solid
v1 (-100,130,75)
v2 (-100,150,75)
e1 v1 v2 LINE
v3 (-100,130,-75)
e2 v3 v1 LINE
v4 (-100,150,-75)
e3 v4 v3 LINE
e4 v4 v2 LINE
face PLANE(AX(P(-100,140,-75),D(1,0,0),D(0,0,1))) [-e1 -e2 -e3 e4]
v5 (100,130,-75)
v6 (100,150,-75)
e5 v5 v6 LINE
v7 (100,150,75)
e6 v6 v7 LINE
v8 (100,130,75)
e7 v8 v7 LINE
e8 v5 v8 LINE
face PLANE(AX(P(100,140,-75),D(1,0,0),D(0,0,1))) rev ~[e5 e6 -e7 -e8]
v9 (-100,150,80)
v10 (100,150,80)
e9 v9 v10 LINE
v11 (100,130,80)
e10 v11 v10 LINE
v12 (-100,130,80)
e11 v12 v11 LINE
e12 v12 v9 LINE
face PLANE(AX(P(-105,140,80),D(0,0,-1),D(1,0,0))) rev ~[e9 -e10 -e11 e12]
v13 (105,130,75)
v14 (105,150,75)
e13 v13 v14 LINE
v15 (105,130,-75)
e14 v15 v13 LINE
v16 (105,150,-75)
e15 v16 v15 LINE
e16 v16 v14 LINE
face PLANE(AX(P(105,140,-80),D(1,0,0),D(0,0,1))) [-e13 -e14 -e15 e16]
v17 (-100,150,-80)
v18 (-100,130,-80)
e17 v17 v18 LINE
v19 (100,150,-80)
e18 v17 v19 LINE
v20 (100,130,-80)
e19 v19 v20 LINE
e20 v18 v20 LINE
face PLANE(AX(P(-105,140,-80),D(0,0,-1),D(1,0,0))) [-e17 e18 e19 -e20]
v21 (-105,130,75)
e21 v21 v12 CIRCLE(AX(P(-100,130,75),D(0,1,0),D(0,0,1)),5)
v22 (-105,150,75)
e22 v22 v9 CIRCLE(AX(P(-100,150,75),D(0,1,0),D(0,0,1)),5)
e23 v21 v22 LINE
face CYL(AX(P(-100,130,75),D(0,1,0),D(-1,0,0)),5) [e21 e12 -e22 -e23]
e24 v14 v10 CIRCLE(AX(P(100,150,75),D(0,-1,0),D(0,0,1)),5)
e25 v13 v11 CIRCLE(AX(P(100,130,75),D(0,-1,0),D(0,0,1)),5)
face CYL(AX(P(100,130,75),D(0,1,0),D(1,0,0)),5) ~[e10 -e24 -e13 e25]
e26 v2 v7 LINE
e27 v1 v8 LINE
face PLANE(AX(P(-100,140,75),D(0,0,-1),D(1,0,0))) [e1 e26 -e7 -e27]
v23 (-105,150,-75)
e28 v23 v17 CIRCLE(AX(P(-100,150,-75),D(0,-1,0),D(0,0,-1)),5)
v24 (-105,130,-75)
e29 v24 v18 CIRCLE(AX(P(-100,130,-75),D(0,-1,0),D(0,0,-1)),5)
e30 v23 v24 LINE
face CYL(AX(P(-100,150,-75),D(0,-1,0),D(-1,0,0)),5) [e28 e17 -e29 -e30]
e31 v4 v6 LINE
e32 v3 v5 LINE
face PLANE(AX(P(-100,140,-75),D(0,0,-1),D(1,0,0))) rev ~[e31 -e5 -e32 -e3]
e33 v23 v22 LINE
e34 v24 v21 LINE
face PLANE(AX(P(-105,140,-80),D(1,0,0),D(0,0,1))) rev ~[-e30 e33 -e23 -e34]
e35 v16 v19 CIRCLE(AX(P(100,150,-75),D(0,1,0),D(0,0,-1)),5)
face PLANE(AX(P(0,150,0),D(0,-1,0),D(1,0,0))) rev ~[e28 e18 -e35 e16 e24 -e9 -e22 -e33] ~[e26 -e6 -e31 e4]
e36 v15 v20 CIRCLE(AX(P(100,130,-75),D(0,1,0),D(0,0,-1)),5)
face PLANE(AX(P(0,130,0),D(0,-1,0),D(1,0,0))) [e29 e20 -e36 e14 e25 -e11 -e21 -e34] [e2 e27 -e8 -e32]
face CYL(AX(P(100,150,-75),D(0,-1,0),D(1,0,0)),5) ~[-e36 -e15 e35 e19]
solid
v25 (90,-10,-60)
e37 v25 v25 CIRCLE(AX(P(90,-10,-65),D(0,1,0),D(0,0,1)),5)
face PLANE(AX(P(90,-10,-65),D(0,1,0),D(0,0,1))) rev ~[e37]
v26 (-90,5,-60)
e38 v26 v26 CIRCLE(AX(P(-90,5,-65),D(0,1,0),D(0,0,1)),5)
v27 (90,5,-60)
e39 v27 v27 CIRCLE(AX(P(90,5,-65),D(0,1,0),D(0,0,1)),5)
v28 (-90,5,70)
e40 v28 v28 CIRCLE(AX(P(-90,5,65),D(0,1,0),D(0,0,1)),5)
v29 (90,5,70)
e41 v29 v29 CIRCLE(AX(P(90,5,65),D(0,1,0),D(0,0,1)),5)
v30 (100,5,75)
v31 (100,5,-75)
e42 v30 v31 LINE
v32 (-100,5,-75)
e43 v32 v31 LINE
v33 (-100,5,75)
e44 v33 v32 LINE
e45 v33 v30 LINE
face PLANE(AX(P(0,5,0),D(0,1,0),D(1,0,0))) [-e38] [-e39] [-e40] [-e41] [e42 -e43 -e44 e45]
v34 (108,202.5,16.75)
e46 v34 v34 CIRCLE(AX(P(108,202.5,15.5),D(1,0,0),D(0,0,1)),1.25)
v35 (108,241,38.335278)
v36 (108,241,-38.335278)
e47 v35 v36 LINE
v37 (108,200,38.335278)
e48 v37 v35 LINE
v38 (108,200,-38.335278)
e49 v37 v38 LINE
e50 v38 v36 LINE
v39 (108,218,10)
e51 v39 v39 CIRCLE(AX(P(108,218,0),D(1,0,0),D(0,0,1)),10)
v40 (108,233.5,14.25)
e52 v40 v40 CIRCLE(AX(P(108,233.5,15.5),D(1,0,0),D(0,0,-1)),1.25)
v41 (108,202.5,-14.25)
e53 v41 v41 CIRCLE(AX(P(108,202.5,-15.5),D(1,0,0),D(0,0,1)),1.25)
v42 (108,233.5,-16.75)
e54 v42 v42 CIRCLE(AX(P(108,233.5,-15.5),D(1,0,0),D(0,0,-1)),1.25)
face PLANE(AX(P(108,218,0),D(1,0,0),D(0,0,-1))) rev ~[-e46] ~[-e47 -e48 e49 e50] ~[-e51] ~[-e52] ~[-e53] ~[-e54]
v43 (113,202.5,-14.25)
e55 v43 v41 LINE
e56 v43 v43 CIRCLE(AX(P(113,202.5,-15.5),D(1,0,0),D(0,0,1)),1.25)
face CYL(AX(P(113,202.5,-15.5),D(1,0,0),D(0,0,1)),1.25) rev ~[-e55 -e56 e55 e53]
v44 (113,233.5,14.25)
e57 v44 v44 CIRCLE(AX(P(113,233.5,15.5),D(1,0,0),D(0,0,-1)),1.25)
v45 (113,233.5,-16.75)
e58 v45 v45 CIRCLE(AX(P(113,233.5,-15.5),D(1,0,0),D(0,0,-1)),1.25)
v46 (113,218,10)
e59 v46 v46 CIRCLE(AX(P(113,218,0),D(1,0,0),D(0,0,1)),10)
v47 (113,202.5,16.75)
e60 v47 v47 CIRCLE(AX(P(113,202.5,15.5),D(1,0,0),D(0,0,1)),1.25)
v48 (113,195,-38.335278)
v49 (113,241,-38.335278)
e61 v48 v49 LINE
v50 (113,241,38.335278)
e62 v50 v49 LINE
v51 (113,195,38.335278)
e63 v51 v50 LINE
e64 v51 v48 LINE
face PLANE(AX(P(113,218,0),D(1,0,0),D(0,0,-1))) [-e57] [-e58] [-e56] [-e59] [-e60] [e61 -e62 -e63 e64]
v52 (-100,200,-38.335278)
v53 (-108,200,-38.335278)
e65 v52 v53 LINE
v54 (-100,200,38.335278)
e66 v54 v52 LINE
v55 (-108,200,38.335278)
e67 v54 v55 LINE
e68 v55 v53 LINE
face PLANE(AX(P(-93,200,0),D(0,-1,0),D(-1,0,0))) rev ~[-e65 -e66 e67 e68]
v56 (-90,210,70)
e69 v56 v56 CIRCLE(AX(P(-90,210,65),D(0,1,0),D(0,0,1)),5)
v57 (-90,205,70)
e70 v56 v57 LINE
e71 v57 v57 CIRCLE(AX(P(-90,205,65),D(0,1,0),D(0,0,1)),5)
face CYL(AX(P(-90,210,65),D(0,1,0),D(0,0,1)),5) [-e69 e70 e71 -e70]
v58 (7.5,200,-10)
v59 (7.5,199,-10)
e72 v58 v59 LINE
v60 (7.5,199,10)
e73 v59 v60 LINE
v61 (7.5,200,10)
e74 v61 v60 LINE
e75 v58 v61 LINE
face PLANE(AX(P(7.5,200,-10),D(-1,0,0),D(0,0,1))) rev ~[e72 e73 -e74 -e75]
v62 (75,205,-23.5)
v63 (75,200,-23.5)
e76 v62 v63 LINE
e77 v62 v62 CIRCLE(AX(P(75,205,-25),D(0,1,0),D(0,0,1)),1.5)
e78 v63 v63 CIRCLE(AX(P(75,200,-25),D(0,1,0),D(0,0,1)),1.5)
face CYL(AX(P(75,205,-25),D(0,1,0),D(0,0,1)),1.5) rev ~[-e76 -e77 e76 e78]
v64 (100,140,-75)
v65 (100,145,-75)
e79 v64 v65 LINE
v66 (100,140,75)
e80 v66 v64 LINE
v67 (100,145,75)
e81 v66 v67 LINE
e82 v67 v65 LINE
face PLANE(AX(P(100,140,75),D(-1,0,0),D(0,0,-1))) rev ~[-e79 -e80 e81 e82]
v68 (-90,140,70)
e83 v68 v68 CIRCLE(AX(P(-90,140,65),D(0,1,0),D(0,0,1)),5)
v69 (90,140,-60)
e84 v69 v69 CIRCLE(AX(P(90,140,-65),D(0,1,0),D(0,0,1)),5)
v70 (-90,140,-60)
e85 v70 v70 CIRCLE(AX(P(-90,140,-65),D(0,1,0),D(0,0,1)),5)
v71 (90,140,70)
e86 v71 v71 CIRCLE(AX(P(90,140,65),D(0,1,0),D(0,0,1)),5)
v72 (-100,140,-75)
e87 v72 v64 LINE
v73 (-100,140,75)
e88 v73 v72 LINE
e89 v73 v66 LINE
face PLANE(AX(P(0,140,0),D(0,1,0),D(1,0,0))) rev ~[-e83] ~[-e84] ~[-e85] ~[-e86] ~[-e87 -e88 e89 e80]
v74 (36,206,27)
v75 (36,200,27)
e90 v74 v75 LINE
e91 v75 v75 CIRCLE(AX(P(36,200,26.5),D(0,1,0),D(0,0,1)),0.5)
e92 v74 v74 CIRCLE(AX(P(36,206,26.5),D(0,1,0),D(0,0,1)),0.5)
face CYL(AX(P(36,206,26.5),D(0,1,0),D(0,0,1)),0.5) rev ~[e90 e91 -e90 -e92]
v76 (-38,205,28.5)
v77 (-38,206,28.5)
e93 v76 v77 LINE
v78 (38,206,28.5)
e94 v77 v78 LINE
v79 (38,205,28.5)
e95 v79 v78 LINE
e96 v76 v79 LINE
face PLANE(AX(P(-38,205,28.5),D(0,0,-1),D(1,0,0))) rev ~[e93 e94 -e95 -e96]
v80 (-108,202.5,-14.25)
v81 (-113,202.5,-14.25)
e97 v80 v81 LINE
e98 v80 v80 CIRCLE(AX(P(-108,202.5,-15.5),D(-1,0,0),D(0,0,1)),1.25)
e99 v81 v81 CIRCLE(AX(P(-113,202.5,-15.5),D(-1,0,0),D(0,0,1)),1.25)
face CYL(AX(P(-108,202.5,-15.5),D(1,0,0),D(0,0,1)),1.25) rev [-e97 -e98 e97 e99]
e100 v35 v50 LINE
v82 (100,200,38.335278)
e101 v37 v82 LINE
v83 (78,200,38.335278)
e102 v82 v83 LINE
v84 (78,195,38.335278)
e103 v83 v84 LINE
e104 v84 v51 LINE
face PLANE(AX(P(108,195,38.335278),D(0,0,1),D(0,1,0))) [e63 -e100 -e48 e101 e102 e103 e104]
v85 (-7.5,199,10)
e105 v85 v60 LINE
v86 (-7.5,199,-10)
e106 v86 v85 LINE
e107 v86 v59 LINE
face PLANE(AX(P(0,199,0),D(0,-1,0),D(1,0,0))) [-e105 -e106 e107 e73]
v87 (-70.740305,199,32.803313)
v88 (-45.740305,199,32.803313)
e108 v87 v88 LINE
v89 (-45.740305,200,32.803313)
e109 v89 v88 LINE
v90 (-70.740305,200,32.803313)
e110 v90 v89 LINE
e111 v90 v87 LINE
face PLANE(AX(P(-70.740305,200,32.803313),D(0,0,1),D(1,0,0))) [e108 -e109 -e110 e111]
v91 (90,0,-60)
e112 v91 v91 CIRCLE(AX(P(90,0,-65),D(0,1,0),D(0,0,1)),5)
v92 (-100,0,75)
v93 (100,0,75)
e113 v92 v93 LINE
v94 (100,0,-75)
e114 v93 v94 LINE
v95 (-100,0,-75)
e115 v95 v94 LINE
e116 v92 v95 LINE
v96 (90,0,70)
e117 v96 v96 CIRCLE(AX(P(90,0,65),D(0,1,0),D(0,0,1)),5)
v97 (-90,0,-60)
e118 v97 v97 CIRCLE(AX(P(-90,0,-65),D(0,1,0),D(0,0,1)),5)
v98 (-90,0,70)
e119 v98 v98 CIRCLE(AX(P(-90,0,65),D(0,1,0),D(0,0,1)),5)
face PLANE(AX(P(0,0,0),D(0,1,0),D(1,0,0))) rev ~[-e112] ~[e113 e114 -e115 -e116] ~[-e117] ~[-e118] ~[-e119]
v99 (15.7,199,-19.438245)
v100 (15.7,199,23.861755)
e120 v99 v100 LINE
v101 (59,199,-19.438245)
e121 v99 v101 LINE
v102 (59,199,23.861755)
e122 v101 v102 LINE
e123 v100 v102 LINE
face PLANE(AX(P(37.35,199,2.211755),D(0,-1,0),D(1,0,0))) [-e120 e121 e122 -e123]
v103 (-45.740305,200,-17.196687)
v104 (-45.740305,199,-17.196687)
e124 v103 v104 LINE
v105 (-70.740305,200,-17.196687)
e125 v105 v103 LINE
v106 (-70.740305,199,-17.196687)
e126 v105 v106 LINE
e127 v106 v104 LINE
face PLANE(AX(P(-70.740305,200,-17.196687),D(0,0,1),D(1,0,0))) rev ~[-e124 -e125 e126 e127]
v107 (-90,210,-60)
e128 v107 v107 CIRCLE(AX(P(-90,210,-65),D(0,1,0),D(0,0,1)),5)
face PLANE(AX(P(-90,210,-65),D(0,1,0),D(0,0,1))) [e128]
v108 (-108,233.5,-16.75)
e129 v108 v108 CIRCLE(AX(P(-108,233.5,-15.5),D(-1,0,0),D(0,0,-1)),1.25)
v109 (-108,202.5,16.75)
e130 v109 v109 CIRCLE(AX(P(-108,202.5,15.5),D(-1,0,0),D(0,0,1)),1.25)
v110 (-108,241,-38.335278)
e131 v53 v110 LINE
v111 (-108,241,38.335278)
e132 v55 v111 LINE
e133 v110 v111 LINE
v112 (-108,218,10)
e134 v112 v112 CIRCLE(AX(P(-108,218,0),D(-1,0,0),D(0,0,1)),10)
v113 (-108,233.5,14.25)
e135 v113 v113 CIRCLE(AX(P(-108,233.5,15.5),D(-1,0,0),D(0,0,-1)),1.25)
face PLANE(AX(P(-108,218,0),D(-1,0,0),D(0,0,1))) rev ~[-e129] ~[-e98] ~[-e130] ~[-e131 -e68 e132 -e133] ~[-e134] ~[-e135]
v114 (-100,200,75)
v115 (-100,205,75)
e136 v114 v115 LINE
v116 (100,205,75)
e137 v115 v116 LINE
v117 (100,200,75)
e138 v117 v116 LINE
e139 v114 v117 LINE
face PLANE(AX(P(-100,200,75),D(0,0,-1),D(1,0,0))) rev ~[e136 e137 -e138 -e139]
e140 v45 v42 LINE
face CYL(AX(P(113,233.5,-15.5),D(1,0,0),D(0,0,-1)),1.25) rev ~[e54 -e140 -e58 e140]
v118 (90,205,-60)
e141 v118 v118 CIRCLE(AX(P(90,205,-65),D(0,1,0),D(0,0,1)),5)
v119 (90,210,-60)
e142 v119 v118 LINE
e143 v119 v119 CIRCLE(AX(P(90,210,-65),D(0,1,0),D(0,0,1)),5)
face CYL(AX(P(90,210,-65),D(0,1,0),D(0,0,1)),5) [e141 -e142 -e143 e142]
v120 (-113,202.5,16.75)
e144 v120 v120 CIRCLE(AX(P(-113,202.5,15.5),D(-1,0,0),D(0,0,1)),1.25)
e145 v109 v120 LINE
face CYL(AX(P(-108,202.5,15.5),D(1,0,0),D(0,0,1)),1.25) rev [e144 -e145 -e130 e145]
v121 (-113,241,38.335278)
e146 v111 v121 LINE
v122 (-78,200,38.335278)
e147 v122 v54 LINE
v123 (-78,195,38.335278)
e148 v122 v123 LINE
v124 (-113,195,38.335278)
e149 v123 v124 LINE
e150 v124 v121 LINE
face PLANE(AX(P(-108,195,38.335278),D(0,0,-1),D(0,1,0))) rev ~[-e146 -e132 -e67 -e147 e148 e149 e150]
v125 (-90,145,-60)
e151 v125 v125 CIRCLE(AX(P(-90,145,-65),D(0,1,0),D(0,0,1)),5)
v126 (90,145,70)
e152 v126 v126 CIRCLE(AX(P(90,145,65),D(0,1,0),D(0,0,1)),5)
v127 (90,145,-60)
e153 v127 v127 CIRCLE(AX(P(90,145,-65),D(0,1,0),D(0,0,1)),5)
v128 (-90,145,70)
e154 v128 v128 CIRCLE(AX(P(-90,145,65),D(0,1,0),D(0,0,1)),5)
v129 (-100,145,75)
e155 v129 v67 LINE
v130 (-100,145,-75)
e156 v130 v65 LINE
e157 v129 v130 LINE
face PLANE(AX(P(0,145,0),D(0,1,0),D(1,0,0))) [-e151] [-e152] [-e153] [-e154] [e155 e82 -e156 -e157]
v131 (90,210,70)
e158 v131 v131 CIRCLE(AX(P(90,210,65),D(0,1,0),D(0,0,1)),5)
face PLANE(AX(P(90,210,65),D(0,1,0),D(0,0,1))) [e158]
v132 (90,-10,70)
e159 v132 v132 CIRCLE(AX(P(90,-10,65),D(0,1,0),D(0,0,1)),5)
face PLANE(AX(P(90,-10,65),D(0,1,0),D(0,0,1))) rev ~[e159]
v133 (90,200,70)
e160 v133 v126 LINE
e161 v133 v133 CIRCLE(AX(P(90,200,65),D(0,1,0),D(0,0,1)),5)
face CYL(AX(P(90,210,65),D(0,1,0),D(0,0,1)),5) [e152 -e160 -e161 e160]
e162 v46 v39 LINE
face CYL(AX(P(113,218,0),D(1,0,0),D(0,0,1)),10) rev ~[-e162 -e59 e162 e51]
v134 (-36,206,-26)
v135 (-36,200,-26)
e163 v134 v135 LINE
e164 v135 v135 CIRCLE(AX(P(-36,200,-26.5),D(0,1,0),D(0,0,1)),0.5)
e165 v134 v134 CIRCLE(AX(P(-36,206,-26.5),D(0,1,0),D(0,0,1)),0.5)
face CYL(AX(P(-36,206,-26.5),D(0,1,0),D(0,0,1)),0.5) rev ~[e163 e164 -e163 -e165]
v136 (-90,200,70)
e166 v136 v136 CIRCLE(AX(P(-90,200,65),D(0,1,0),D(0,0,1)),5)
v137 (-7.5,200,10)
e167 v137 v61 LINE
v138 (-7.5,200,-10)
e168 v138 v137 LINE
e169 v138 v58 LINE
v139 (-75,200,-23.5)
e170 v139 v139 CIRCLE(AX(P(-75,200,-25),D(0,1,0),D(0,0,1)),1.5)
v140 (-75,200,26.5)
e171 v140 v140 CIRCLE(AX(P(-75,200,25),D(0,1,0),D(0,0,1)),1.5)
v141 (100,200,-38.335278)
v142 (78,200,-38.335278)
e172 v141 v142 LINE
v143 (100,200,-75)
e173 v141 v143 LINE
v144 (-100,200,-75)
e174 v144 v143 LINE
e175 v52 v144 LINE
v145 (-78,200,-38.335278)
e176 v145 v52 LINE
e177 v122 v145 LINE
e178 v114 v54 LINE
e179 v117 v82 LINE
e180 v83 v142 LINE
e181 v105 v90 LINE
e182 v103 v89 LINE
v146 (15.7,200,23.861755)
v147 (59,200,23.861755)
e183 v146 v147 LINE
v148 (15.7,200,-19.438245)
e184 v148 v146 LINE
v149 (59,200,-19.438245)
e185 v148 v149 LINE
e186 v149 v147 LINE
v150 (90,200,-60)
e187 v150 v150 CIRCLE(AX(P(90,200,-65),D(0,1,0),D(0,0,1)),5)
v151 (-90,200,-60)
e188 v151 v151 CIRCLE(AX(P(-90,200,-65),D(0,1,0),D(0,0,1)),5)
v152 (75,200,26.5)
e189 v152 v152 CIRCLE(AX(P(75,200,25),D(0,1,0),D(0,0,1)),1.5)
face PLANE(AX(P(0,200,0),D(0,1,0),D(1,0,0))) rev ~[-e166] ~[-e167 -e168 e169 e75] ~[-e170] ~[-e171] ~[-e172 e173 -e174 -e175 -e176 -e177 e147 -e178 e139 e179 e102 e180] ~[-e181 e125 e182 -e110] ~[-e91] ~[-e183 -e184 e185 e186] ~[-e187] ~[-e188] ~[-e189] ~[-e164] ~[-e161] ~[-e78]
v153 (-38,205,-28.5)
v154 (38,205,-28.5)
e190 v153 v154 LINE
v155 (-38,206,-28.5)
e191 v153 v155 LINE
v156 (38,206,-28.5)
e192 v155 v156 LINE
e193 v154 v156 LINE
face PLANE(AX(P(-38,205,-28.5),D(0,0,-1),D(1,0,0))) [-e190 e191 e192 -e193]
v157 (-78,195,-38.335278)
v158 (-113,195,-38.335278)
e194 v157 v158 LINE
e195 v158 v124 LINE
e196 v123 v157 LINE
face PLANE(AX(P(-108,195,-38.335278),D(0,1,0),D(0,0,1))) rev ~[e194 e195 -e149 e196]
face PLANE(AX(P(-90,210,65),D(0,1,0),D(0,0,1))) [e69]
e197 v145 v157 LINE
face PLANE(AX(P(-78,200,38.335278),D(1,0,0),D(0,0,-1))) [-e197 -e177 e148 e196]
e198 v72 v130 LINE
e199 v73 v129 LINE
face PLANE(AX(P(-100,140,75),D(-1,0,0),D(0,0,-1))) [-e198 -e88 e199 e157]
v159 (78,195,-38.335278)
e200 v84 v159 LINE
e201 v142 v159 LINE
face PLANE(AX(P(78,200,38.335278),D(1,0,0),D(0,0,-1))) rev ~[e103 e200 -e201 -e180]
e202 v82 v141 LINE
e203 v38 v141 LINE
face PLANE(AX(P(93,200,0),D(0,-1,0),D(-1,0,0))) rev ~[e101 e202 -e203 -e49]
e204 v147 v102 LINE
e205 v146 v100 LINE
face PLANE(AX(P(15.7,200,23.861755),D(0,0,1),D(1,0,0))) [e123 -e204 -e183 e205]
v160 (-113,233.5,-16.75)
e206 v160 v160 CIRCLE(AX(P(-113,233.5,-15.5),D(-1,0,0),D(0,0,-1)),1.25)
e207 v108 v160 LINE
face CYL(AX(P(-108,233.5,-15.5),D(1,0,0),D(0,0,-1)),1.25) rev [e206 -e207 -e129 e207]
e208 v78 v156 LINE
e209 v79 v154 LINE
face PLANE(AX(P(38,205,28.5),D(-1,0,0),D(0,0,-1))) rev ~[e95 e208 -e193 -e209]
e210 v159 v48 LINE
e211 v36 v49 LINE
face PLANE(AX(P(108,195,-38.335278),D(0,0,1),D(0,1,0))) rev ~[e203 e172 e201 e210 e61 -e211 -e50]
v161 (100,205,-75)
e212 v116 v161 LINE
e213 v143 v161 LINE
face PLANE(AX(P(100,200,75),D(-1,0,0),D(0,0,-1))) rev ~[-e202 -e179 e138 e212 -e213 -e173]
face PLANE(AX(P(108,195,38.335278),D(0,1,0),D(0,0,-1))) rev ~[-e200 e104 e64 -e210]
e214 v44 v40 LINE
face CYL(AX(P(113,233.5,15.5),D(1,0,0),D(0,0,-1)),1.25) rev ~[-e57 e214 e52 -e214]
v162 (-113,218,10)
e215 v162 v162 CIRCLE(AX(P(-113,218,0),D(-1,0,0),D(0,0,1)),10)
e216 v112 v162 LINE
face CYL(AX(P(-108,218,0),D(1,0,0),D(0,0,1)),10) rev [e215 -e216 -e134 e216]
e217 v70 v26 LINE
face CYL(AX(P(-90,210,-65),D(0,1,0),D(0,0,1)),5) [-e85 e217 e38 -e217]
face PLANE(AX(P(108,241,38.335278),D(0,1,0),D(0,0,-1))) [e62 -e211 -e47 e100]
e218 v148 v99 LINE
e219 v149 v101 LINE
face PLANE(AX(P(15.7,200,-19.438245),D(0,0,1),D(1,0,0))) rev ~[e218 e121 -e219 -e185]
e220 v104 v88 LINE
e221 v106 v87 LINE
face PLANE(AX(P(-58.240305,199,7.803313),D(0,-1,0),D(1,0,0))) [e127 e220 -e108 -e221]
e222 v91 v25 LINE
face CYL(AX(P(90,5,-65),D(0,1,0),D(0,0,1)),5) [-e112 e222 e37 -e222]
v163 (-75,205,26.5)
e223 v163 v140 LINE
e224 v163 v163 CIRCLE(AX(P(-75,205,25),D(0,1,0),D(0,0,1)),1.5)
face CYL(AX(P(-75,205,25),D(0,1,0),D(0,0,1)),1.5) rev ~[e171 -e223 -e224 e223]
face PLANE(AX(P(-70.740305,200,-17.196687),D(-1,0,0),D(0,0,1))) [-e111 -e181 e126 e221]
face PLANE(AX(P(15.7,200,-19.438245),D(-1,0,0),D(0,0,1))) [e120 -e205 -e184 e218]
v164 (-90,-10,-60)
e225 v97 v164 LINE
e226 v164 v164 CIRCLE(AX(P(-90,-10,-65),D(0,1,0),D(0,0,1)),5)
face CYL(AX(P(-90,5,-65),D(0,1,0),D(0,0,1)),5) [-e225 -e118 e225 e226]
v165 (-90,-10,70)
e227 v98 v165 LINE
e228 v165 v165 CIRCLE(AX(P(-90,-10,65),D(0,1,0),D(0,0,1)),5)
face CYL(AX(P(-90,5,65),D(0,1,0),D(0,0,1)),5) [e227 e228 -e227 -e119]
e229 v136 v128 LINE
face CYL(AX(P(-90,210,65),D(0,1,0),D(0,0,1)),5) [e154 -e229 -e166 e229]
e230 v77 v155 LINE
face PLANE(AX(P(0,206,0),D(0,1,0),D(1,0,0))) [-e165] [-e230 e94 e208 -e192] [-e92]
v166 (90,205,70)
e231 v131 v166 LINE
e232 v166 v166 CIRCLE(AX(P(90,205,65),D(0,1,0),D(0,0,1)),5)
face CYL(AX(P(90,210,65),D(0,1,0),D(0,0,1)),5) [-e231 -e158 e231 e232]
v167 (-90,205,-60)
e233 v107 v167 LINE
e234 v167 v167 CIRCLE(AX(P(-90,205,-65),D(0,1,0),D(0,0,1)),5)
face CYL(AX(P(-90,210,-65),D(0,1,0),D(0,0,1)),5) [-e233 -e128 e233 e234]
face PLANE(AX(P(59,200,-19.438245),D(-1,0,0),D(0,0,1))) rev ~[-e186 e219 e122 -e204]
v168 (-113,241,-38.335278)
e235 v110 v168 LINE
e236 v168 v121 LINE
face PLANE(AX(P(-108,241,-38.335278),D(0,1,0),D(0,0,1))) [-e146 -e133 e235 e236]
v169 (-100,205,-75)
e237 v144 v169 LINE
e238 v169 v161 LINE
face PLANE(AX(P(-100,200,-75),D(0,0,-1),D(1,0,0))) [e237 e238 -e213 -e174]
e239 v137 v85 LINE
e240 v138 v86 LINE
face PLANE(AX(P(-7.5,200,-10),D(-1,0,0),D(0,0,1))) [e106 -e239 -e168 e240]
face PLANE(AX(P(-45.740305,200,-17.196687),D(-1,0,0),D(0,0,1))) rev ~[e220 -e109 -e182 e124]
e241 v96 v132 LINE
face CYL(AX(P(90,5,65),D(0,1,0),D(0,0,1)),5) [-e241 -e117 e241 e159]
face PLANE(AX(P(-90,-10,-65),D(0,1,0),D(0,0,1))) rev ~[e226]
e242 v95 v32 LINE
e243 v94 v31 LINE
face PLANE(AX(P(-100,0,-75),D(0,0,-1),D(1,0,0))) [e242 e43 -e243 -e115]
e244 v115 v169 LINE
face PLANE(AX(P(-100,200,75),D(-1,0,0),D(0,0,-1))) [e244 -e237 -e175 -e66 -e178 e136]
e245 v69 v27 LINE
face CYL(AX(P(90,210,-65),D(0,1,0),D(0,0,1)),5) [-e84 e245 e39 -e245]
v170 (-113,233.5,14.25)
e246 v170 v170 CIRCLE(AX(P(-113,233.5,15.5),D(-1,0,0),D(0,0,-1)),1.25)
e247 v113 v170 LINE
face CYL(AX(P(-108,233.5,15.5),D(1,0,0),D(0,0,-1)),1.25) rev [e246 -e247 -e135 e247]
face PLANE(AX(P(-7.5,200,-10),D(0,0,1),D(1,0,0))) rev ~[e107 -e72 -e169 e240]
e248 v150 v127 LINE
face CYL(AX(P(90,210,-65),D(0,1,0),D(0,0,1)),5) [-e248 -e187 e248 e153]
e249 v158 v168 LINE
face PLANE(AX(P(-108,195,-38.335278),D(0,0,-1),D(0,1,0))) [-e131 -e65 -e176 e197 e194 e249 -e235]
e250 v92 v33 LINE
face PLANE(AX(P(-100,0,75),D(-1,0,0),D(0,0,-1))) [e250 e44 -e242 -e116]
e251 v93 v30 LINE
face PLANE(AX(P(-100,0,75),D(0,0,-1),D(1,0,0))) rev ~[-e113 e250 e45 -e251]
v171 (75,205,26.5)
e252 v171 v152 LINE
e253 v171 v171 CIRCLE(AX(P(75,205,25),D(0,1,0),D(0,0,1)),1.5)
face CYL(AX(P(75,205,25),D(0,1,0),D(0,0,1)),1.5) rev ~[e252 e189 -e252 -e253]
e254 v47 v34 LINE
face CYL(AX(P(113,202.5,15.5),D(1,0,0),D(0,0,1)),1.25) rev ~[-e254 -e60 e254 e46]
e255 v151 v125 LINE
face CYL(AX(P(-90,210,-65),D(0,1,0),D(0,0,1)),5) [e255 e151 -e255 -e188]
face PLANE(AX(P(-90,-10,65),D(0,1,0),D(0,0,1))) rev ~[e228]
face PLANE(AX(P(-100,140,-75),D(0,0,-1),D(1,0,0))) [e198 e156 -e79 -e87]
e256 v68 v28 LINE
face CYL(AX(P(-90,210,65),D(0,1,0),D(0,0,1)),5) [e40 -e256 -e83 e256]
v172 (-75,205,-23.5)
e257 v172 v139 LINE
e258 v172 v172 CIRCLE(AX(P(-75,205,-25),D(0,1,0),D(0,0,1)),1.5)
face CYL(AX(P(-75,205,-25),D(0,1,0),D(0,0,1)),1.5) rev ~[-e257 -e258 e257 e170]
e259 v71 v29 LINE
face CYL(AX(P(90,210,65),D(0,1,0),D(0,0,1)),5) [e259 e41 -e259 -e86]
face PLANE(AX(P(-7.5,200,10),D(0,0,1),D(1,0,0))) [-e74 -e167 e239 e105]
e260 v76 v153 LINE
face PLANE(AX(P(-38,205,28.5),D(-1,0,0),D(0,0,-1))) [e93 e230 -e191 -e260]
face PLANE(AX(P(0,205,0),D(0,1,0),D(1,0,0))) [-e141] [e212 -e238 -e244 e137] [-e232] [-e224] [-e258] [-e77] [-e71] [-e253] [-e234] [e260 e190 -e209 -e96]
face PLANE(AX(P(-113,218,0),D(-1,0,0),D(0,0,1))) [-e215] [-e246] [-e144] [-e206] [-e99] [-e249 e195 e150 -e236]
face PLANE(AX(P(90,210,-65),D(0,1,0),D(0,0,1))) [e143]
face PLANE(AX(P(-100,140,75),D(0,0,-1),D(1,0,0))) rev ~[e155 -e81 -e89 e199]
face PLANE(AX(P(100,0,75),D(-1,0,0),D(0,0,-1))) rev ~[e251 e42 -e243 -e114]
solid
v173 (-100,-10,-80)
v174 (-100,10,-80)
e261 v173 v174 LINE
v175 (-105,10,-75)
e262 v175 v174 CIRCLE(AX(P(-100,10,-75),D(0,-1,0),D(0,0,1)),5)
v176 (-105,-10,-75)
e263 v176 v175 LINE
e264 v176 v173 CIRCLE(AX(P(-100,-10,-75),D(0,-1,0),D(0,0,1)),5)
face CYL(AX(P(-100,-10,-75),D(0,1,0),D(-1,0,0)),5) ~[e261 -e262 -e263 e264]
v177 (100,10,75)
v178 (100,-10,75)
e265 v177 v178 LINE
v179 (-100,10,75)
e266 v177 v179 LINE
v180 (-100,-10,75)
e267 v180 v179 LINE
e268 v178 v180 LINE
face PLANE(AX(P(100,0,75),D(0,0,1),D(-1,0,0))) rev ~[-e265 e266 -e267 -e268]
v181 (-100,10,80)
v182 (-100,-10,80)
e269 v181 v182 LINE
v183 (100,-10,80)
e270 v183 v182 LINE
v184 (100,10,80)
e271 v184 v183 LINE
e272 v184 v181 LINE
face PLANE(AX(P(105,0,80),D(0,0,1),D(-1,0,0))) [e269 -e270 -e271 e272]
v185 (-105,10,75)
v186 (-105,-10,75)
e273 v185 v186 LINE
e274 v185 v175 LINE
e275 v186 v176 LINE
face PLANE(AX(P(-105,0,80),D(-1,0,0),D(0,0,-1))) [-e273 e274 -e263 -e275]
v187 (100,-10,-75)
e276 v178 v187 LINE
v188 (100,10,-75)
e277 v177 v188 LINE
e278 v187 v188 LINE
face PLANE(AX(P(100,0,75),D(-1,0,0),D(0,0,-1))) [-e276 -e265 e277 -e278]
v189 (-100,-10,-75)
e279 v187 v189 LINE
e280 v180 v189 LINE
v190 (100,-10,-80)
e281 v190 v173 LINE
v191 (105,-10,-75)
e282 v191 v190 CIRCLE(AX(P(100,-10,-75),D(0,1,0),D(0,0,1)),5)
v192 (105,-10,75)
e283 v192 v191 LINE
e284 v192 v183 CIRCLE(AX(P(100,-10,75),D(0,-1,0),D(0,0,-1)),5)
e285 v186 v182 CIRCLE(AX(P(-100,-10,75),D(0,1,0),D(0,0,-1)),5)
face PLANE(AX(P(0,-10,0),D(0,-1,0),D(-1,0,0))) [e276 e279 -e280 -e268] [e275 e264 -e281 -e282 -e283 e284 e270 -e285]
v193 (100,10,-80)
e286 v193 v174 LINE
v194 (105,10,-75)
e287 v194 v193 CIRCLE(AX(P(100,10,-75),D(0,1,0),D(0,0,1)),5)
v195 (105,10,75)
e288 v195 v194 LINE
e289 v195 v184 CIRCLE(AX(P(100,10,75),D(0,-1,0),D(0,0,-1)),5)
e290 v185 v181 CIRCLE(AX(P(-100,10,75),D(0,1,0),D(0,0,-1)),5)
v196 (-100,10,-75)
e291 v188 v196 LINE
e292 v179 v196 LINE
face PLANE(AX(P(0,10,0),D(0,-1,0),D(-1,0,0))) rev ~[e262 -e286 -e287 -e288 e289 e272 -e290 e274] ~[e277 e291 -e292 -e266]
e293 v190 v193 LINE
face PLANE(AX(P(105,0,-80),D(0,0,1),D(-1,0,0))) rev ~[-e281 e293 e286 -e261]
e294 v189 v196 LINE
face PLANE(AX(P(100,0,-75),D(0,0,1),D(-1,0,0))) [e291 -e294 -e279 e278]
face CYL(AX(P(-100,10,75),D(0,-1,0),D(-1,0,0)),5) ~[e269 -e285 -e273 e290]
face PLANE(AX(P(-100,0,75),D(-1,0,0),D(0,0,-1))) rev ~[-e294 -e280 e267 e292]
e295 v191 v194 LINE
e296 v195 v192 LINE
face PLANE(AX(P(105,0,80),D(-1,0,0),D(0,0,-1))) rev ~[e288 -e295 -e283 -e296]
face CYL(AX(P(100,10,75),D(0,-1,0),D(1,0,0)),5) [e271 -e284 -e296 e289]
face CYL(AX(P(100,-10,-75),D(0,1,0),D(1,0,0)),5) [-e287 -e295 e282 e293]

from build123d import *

# Parameters (mm, degrees)
SKETCH1_W            = 200
SKETCH1_H            = 150
BOSS_EXTRUDE1_DEPTH  = 5
SKETCH2_R            = 5
CUT_EXTRUDE1_DEPTH   = 10
SKETCH3_W            = 200
SKETCH3_H            = 150
SKETCH3_R            = 5
BOSS_EXTRUDE2_DEPTH  = 5
SKETCH4_W            = 200
SKETCH4_H            = 150
SKETCH4_R            = 5
BOSS_EXTRUDE3_DEPTH  = 5
BOSS_EXTRUDE13_START = 205
SKETCH21_R           = 5
BOSS_EXTRUDE13_DEPTH = 205
SKETCH22_R           = 5
BOSS_EXTRUDE14_DEPTH = 15
SKETCH23_R           = 1.5
CUT_EXTRUDE2_DEPTH   = 10
SKETCH27_W           = 76
SKETCH27_H           = 57
BOSS_EXTRUDE16_DEPTH = 1
SKETCH30_R           = 0.5
CUT_EXTRUDE3_DEPTH   = 30
SKETCH35_W           = 210
SKETCH35_H           = 160
SKETCH35_W_2         = 200
SKETCH35_H_2         = 150
BOSS_EXTRUDE19_DEPTH = 10
FILLET4_R            = 5
SKETCH39_W           = 210
SKETCH39_H           = 160
SKETCH39_W_2         = 200
SKETCH39_H_2         = 150
BOSS_EXTRUDE20_DEPTH = 10
FILLET5_R            = 5
SKETCH42_W           = 15
SKETCH42_H           = 20
SKETCH42_W_2         = 25
SKETCH42_H_2         = 50
SKETCH42_W_3         = 43.3
SKETCH42_H_3         = 43.3
BOSS_EXTRUDE23_DEPTH = 1
SKETCH46_W           = 30
SKETCH46_H           = 76.670556204
BOSS_EXTRUDE24_DEPTH = 5
SKETCH48_W           = 76.670556204
SKETCH48_H           = 46
SKETCH48_R           = 1.25
SKETCH48_R_2         = 10
BOSS_EXTRUDE25_DEPTH = 5
SKETCH54_W           = 76.670556204
SKETCH54_H           = 46
BOSS_EXTRUDE26_DEPTH = 5
SKETCH55_R           = 1.25
SKETCH55_R_2         = 10
CUT_EXTRUDE4_DEPTH   = 10


with BuildPart() as part:
    # Sketch1 → Boss-Extrude1 (new body)
    with BuildSketch(Plane(origin=(0, 0, 0), x_dir=(1, 0, 0), z_dir=(0, 1, 0))):
        Rectangle(SKETCH1_W, SKETCH1_H)
    extrude(amount=BOSS_EXTRUDE1_DEPTH)

    # Sketch2 → Cut-Extrude1 (cut)
    with BuildSketch(Plane(origin=(0, 5, 0), x_dir=(1, 0, 0), z_dir=(0, 1, 0))):
        with Locations(Location((-90, 65, 0), (0, 0, 270))):
            Circle(SKETCH2_R)
        with Locations(Location((90, 65, 0), (0, 0, 270))):
            Circle(SKETCH2_R)
        with Locations(Location((90, -65, 0), (0, 0, 270))):
            Circle(SKETCH2_R)
        with Locations(Location((-90, -65, 0), (0, 0, 270))):
            Circle(SKETCH2_R)
    extrude(amount=-CUT_EXTRUDE1_DEPTH, mode=Mode.SUBTRACT)



with BuildPart() as body_2:
    # Sketch3 → Boss-Extrude2 (new body)
    with BuildSketch(Plane(origin=(0, 140, 0), x_dir=(1, 0, 0), z_dir=(0, 1, 0))):
        Rectangle(SKETCH3_W, SKETCH3_H)
        with Locations(Location((-90, 65, 0), (0, 0, 270))):
            Circle(SKETCH3_R, mode=Mode.SUBTRACT)
        with Locations(Location((90, 65, 0), (0, 0, 270))):
            Circle(SKETCH3_R, mode=Mode.SUBTRACT)
        with Locations(Location((-90, -65, 0), (0, 0, 270))):
            Circle(SKETCH3_R, mode=Mode.SUBTRACT)
        with Locations(Location((90, -65, 0), (0, 0, 270))):
            Circle(SKETCH3_R, mode=Mode.SUBTRACT)
    extrude(amount=BOSS_EXTRUDE2_DEPTH)



with BuildPart() as body_3:
    # Sketch4 → Boss-Extrude3 (new body)
    with BuildSketch(Plane(origin=(0, 200, 0), x_dir=(1, 0, 0), z_dir=(0, 1, 0))):
        Rectangle(SKETCH4_W, SKETCH4_H)
        with Locations(Location((-90, 65, 0), (0, 0, 270))):
            Circle(SKETCH4_R, mode=Mode.SUBTRACT)
        with Locations(Location((90, 65, 0), (0, 0, 270))):
            Circle(SKETCH4_R, mode=Mode.SUBTRACT)
        with Locations(Location((90, -65, 0), (0, 0, 270))):
            Circle(SKETCH4_R, mode=Mode.SUBTRACT)
        with Locations(Location((-90, -65, 0), (0, 0, 270))):
            Circle(SKETCH4_R, mode=Mode.SUBTRACT)
    extrude(amount=BOSS_EXTRUDE3_DEPTH)


with BuildPart() as body_2_1:
    add(body_2.part)

    add(body_3.part)  # Boss-Extrude13 merges body 3
    # Sketch21 → Boss-Extrude13 (add)
    with BuildSketch(Plane(origin=(0, 5, 0), x_dir=(1, 0, 0), z_dir=(0, 1, 0)).offset(BOSS_EXTRUDE13_START)):
        with Locations(Location((-90, -65, 0), (0, 0, 270))):
            Circle(SKETCH21_R)
        with Locations(Location((-90, 65, 0), (0, 0, 270))):
            Circle(SKETCH21_R)
        with Locations(Location((90, 65, 0), (0, 0, 270))):
            Circle(SKETCH21_R)
        with Locations(Location((90, -65, 0), (0, 0, 270))):
            Circle(SKETCH21_R)
    extrude(amount=-BOSS_EXTRUDE13_DEPTH)


with BuildPart() as part_1:
    add(part.part)

    add(body_2_1.part)  # Boss-Extrude14 merges body 2
    # Sketch22 → Boss-Extrude14 (add)
    with BuildSketch(Plane(origin=(0, 5, 0), x_dir=(1, 0, 0), z_dir=(0, 1, 0))):
        with Locations(Location((-90, 65, 0), (0, 0, 270))):
            Circle(SKETCH22_R)
        with Locations(Location((-90, -65, 0), (0, 0, 270))):
            Circle(SKETCH22_R)
        with Locations(Location((90, -65, 0), (0, 0, 270))):
            Circle(SKETCH22_R)
        with Locations(Location((90, 65, 0), (0, 0, 270))):
            Circle(SKETCH22_R)
    extrude(amount=-BOSS_EXTRUDE14_DEPTH)

    # Sketch23 → Cut-Extrude2 (cut)
    with BuildSketch(Plane(origin=(0, 205, 0), x_dir=(1, 0, 0), z_dir=(0, 1, 0))):
        with Locations(Location((-75, 25, 0), (0, 0, 270))):
            Circle(SKETCH23_R)
        with Locations(Location((-75, -25, 0), (0, 0, 270))):
            Circle(SKETCH23_R)
        with Locations(Location((75, -25, 0), (0, 0, 270))):
            Circle(SKETCH23_R)
        with Locations(Location((75, 25, 0), (0, 0, 270))):
            Circle(SKETCH23_R)
    extrude(amount=-CUT_EXTRUDE2_DEPTH, mode=Mode.SUBTRACT)

    # Sketch27 → Boss-Extrude16 (add)
    with BuildSketch(Plane(origin=(0, 205, 0), x_dir=(1, 0, 0), z_dir=(0, 1, 0))):
        Rectangle(SKETCH27_W, SKETCH27_H)
    extrude(amount=BOSS_EXTRUDE16_DEPTH)

    # Sketch30 → Cut-Extrude3 (cut)
    with BuildSketch(Plane(origin=(0, 206, 0), x_dir=(1, 0, 0), z_dir=(0, 1, 0))):
        with Locations(Location((-36, 26.5, 0), (0, 0, 270))):
            Circle(SKETCH30_R)
        with Locations(Location((36, -26.5, 0), (0, 0, 270))):
            Circle(SKETCH30_R)
    extrude(amount=-CUT_EXTRUDE3_DEPTH, mode=Mode.SUBTRACT)

    # Sketch42 → Boss-Extrude23 (add)
    with BuildSketch(Plane.XZ.offset(-200)):
        Rectangle(SKETCH42_W, SKETCH42_H)
        with Locations((-58.240305189, 7.803312526)):
            Rectangle(SKETCH42_W_2, SKETCH42_H_2)
        with Locations((37.35, 2.211754737)):
            Rectangle(SKETCH42_W_3, SKETCH42_H_3)
    extrude(amount=BOSS_EXTRUDE23_DEPTH)

    # Sketch46 → Boss-Extrude24 (add)
    with BuildSketch(Plane(origin=(0, 200, 0), x_dir=(-1, 0, 0), z_dir=(0, -1, 0))):
        with Locations((-93, 0)):
            Rectangle(SKETCH46_W, SKETCH46_H)
        with Locations((93, 0)):
            Rectangle(SKETCH46_W, SKETCH46_H)
    extrude(amount=BOSS_EXTRUDE24_DEPTH)

    # Sketch48 → Boss-Extrude25 (add)
    with BuildSketch(Plane.ZY.offset(108)):
        with Locations((0, 218)):
            Rectangle(SKETCH48_W, SKETCH48_H)
        with Locations((-15.5, 202.5)):
            Circle(SKETCH48_R, mode=Mode.SUBTRACT)
        with Locations((15.5, 202.5)):
            Circle(SKETCH48_R, mode=Mode.SUBTRACT)
        with Locations(Location((15.5, 233.5, 0), (0, 0, 180))):
            Circle(SKETCH48_R, mode=Mode.SUBTRACT)
        with Locations(Location((-15.5, 233.5, 0), (0, 0, 180))):
            Circle(SKETCH48_R, mode=Mode.SUBTRACT)
        with Locations((0, 218)):
            Circle(SKETCH48_R_2, mode=Mode.SUBTRACT)
    extrude(amount=BOSS_EXTRUDE25_DEPTH)

    # Sketch54 → Boss-Extrude26 (add)
    with BuildSketch(Plane(origin=(108, 0, 0), x_dir=(0, 0, -1), z_dir=(1, 0, 0))):
        with Locations((0, 218)):
            Rectangle(SKETCH54_W, SKETCH54_H)
    extrude(amount=BOSS_EXTRUDE26_DEPTH)

    # Sketch55 → Cut-Extrude4 (cut)
    with BuildSketch(Plane(origin=(113, 0, 0), x_dir=(0, 0, -1), z_dir=(1, 0, 0))):
        with Locations(Location((-15.5, 202.5, 0), (0, 0, 180))):
            Circle(SKETCH55_R)
        with Locations(Location((15.5, 202.5, 0), (0, 0, 180))):
            Circle(SKETCH55_R)
        with Locations((15.5, 233.5)):
            Circle(SKETCH55_R)
        with Locations((-15.5, 233.5)):
            Circle(SKETCH55_R)
        with Locations(Location((0, 218, 0), (0, 0, 180))):
            Circle(SKETCH55_R_2)
    extrude(amount=-CUT_EXTRUDE4_DEPTH, mode=Mode.SUBTRACT)


with BuildPart() as body_2_2:
    # Sketch35 → Boss-Extrude19 (new, symmetric)
    with BuildSketch(Plane(origin=(0, 0, 0), x_dir=(-1, 0, 0), z_dir=(0, -1, 0))):
        Rectangle(SKETCH35_W, SKETCH35_H)
        Rectangle(SKETCH35_W_2, SKETCH35_H_2, mode=Mode.SUBTRACT)
    extrude(amount=BOSS_EXTRUDE19_DEPTH, both=True)

    # Fillet4
    fillet4_edges = [body_2_2.edges().sort_by_distance(p)[0] for p in [
        (105, 0, -80),
        (-105, 0, -80),
        (-105, 0, 80),
        (105, 0, 80),
    ]]
    fillet(fillet4_edges, radius=FILLET4_R)


with BuildPart() as body_3_2:
    # Sketch39 → Boss-Extrude20 (new, symmetric)
    with BuildSketch(Plane.XZ.offset(-140)):
        Rectangle(SKETCH39_W, SKETCH39_H)
        Rectangle(SKETCH39_W_2, SKETCH39_H_2, mode=Mode.SUBTRACT)
    extrude(amount=BOSS_EXTRUDE20_DEPTH, both=True)

    # Fillet5
    fillet5_edges = [body_3_2.edges().sort_by_distance(p)[0] for p in [
        (105, 140, -80),
        (-105, 140, -80),
        (-105, 140, 80),
        (105, 140, 80),
    ]]
    fillet(fillet5_edges, radius=FILLET5_R)


solid = Compound([part_1.part, body_2_2.part, body_3_2.part])
